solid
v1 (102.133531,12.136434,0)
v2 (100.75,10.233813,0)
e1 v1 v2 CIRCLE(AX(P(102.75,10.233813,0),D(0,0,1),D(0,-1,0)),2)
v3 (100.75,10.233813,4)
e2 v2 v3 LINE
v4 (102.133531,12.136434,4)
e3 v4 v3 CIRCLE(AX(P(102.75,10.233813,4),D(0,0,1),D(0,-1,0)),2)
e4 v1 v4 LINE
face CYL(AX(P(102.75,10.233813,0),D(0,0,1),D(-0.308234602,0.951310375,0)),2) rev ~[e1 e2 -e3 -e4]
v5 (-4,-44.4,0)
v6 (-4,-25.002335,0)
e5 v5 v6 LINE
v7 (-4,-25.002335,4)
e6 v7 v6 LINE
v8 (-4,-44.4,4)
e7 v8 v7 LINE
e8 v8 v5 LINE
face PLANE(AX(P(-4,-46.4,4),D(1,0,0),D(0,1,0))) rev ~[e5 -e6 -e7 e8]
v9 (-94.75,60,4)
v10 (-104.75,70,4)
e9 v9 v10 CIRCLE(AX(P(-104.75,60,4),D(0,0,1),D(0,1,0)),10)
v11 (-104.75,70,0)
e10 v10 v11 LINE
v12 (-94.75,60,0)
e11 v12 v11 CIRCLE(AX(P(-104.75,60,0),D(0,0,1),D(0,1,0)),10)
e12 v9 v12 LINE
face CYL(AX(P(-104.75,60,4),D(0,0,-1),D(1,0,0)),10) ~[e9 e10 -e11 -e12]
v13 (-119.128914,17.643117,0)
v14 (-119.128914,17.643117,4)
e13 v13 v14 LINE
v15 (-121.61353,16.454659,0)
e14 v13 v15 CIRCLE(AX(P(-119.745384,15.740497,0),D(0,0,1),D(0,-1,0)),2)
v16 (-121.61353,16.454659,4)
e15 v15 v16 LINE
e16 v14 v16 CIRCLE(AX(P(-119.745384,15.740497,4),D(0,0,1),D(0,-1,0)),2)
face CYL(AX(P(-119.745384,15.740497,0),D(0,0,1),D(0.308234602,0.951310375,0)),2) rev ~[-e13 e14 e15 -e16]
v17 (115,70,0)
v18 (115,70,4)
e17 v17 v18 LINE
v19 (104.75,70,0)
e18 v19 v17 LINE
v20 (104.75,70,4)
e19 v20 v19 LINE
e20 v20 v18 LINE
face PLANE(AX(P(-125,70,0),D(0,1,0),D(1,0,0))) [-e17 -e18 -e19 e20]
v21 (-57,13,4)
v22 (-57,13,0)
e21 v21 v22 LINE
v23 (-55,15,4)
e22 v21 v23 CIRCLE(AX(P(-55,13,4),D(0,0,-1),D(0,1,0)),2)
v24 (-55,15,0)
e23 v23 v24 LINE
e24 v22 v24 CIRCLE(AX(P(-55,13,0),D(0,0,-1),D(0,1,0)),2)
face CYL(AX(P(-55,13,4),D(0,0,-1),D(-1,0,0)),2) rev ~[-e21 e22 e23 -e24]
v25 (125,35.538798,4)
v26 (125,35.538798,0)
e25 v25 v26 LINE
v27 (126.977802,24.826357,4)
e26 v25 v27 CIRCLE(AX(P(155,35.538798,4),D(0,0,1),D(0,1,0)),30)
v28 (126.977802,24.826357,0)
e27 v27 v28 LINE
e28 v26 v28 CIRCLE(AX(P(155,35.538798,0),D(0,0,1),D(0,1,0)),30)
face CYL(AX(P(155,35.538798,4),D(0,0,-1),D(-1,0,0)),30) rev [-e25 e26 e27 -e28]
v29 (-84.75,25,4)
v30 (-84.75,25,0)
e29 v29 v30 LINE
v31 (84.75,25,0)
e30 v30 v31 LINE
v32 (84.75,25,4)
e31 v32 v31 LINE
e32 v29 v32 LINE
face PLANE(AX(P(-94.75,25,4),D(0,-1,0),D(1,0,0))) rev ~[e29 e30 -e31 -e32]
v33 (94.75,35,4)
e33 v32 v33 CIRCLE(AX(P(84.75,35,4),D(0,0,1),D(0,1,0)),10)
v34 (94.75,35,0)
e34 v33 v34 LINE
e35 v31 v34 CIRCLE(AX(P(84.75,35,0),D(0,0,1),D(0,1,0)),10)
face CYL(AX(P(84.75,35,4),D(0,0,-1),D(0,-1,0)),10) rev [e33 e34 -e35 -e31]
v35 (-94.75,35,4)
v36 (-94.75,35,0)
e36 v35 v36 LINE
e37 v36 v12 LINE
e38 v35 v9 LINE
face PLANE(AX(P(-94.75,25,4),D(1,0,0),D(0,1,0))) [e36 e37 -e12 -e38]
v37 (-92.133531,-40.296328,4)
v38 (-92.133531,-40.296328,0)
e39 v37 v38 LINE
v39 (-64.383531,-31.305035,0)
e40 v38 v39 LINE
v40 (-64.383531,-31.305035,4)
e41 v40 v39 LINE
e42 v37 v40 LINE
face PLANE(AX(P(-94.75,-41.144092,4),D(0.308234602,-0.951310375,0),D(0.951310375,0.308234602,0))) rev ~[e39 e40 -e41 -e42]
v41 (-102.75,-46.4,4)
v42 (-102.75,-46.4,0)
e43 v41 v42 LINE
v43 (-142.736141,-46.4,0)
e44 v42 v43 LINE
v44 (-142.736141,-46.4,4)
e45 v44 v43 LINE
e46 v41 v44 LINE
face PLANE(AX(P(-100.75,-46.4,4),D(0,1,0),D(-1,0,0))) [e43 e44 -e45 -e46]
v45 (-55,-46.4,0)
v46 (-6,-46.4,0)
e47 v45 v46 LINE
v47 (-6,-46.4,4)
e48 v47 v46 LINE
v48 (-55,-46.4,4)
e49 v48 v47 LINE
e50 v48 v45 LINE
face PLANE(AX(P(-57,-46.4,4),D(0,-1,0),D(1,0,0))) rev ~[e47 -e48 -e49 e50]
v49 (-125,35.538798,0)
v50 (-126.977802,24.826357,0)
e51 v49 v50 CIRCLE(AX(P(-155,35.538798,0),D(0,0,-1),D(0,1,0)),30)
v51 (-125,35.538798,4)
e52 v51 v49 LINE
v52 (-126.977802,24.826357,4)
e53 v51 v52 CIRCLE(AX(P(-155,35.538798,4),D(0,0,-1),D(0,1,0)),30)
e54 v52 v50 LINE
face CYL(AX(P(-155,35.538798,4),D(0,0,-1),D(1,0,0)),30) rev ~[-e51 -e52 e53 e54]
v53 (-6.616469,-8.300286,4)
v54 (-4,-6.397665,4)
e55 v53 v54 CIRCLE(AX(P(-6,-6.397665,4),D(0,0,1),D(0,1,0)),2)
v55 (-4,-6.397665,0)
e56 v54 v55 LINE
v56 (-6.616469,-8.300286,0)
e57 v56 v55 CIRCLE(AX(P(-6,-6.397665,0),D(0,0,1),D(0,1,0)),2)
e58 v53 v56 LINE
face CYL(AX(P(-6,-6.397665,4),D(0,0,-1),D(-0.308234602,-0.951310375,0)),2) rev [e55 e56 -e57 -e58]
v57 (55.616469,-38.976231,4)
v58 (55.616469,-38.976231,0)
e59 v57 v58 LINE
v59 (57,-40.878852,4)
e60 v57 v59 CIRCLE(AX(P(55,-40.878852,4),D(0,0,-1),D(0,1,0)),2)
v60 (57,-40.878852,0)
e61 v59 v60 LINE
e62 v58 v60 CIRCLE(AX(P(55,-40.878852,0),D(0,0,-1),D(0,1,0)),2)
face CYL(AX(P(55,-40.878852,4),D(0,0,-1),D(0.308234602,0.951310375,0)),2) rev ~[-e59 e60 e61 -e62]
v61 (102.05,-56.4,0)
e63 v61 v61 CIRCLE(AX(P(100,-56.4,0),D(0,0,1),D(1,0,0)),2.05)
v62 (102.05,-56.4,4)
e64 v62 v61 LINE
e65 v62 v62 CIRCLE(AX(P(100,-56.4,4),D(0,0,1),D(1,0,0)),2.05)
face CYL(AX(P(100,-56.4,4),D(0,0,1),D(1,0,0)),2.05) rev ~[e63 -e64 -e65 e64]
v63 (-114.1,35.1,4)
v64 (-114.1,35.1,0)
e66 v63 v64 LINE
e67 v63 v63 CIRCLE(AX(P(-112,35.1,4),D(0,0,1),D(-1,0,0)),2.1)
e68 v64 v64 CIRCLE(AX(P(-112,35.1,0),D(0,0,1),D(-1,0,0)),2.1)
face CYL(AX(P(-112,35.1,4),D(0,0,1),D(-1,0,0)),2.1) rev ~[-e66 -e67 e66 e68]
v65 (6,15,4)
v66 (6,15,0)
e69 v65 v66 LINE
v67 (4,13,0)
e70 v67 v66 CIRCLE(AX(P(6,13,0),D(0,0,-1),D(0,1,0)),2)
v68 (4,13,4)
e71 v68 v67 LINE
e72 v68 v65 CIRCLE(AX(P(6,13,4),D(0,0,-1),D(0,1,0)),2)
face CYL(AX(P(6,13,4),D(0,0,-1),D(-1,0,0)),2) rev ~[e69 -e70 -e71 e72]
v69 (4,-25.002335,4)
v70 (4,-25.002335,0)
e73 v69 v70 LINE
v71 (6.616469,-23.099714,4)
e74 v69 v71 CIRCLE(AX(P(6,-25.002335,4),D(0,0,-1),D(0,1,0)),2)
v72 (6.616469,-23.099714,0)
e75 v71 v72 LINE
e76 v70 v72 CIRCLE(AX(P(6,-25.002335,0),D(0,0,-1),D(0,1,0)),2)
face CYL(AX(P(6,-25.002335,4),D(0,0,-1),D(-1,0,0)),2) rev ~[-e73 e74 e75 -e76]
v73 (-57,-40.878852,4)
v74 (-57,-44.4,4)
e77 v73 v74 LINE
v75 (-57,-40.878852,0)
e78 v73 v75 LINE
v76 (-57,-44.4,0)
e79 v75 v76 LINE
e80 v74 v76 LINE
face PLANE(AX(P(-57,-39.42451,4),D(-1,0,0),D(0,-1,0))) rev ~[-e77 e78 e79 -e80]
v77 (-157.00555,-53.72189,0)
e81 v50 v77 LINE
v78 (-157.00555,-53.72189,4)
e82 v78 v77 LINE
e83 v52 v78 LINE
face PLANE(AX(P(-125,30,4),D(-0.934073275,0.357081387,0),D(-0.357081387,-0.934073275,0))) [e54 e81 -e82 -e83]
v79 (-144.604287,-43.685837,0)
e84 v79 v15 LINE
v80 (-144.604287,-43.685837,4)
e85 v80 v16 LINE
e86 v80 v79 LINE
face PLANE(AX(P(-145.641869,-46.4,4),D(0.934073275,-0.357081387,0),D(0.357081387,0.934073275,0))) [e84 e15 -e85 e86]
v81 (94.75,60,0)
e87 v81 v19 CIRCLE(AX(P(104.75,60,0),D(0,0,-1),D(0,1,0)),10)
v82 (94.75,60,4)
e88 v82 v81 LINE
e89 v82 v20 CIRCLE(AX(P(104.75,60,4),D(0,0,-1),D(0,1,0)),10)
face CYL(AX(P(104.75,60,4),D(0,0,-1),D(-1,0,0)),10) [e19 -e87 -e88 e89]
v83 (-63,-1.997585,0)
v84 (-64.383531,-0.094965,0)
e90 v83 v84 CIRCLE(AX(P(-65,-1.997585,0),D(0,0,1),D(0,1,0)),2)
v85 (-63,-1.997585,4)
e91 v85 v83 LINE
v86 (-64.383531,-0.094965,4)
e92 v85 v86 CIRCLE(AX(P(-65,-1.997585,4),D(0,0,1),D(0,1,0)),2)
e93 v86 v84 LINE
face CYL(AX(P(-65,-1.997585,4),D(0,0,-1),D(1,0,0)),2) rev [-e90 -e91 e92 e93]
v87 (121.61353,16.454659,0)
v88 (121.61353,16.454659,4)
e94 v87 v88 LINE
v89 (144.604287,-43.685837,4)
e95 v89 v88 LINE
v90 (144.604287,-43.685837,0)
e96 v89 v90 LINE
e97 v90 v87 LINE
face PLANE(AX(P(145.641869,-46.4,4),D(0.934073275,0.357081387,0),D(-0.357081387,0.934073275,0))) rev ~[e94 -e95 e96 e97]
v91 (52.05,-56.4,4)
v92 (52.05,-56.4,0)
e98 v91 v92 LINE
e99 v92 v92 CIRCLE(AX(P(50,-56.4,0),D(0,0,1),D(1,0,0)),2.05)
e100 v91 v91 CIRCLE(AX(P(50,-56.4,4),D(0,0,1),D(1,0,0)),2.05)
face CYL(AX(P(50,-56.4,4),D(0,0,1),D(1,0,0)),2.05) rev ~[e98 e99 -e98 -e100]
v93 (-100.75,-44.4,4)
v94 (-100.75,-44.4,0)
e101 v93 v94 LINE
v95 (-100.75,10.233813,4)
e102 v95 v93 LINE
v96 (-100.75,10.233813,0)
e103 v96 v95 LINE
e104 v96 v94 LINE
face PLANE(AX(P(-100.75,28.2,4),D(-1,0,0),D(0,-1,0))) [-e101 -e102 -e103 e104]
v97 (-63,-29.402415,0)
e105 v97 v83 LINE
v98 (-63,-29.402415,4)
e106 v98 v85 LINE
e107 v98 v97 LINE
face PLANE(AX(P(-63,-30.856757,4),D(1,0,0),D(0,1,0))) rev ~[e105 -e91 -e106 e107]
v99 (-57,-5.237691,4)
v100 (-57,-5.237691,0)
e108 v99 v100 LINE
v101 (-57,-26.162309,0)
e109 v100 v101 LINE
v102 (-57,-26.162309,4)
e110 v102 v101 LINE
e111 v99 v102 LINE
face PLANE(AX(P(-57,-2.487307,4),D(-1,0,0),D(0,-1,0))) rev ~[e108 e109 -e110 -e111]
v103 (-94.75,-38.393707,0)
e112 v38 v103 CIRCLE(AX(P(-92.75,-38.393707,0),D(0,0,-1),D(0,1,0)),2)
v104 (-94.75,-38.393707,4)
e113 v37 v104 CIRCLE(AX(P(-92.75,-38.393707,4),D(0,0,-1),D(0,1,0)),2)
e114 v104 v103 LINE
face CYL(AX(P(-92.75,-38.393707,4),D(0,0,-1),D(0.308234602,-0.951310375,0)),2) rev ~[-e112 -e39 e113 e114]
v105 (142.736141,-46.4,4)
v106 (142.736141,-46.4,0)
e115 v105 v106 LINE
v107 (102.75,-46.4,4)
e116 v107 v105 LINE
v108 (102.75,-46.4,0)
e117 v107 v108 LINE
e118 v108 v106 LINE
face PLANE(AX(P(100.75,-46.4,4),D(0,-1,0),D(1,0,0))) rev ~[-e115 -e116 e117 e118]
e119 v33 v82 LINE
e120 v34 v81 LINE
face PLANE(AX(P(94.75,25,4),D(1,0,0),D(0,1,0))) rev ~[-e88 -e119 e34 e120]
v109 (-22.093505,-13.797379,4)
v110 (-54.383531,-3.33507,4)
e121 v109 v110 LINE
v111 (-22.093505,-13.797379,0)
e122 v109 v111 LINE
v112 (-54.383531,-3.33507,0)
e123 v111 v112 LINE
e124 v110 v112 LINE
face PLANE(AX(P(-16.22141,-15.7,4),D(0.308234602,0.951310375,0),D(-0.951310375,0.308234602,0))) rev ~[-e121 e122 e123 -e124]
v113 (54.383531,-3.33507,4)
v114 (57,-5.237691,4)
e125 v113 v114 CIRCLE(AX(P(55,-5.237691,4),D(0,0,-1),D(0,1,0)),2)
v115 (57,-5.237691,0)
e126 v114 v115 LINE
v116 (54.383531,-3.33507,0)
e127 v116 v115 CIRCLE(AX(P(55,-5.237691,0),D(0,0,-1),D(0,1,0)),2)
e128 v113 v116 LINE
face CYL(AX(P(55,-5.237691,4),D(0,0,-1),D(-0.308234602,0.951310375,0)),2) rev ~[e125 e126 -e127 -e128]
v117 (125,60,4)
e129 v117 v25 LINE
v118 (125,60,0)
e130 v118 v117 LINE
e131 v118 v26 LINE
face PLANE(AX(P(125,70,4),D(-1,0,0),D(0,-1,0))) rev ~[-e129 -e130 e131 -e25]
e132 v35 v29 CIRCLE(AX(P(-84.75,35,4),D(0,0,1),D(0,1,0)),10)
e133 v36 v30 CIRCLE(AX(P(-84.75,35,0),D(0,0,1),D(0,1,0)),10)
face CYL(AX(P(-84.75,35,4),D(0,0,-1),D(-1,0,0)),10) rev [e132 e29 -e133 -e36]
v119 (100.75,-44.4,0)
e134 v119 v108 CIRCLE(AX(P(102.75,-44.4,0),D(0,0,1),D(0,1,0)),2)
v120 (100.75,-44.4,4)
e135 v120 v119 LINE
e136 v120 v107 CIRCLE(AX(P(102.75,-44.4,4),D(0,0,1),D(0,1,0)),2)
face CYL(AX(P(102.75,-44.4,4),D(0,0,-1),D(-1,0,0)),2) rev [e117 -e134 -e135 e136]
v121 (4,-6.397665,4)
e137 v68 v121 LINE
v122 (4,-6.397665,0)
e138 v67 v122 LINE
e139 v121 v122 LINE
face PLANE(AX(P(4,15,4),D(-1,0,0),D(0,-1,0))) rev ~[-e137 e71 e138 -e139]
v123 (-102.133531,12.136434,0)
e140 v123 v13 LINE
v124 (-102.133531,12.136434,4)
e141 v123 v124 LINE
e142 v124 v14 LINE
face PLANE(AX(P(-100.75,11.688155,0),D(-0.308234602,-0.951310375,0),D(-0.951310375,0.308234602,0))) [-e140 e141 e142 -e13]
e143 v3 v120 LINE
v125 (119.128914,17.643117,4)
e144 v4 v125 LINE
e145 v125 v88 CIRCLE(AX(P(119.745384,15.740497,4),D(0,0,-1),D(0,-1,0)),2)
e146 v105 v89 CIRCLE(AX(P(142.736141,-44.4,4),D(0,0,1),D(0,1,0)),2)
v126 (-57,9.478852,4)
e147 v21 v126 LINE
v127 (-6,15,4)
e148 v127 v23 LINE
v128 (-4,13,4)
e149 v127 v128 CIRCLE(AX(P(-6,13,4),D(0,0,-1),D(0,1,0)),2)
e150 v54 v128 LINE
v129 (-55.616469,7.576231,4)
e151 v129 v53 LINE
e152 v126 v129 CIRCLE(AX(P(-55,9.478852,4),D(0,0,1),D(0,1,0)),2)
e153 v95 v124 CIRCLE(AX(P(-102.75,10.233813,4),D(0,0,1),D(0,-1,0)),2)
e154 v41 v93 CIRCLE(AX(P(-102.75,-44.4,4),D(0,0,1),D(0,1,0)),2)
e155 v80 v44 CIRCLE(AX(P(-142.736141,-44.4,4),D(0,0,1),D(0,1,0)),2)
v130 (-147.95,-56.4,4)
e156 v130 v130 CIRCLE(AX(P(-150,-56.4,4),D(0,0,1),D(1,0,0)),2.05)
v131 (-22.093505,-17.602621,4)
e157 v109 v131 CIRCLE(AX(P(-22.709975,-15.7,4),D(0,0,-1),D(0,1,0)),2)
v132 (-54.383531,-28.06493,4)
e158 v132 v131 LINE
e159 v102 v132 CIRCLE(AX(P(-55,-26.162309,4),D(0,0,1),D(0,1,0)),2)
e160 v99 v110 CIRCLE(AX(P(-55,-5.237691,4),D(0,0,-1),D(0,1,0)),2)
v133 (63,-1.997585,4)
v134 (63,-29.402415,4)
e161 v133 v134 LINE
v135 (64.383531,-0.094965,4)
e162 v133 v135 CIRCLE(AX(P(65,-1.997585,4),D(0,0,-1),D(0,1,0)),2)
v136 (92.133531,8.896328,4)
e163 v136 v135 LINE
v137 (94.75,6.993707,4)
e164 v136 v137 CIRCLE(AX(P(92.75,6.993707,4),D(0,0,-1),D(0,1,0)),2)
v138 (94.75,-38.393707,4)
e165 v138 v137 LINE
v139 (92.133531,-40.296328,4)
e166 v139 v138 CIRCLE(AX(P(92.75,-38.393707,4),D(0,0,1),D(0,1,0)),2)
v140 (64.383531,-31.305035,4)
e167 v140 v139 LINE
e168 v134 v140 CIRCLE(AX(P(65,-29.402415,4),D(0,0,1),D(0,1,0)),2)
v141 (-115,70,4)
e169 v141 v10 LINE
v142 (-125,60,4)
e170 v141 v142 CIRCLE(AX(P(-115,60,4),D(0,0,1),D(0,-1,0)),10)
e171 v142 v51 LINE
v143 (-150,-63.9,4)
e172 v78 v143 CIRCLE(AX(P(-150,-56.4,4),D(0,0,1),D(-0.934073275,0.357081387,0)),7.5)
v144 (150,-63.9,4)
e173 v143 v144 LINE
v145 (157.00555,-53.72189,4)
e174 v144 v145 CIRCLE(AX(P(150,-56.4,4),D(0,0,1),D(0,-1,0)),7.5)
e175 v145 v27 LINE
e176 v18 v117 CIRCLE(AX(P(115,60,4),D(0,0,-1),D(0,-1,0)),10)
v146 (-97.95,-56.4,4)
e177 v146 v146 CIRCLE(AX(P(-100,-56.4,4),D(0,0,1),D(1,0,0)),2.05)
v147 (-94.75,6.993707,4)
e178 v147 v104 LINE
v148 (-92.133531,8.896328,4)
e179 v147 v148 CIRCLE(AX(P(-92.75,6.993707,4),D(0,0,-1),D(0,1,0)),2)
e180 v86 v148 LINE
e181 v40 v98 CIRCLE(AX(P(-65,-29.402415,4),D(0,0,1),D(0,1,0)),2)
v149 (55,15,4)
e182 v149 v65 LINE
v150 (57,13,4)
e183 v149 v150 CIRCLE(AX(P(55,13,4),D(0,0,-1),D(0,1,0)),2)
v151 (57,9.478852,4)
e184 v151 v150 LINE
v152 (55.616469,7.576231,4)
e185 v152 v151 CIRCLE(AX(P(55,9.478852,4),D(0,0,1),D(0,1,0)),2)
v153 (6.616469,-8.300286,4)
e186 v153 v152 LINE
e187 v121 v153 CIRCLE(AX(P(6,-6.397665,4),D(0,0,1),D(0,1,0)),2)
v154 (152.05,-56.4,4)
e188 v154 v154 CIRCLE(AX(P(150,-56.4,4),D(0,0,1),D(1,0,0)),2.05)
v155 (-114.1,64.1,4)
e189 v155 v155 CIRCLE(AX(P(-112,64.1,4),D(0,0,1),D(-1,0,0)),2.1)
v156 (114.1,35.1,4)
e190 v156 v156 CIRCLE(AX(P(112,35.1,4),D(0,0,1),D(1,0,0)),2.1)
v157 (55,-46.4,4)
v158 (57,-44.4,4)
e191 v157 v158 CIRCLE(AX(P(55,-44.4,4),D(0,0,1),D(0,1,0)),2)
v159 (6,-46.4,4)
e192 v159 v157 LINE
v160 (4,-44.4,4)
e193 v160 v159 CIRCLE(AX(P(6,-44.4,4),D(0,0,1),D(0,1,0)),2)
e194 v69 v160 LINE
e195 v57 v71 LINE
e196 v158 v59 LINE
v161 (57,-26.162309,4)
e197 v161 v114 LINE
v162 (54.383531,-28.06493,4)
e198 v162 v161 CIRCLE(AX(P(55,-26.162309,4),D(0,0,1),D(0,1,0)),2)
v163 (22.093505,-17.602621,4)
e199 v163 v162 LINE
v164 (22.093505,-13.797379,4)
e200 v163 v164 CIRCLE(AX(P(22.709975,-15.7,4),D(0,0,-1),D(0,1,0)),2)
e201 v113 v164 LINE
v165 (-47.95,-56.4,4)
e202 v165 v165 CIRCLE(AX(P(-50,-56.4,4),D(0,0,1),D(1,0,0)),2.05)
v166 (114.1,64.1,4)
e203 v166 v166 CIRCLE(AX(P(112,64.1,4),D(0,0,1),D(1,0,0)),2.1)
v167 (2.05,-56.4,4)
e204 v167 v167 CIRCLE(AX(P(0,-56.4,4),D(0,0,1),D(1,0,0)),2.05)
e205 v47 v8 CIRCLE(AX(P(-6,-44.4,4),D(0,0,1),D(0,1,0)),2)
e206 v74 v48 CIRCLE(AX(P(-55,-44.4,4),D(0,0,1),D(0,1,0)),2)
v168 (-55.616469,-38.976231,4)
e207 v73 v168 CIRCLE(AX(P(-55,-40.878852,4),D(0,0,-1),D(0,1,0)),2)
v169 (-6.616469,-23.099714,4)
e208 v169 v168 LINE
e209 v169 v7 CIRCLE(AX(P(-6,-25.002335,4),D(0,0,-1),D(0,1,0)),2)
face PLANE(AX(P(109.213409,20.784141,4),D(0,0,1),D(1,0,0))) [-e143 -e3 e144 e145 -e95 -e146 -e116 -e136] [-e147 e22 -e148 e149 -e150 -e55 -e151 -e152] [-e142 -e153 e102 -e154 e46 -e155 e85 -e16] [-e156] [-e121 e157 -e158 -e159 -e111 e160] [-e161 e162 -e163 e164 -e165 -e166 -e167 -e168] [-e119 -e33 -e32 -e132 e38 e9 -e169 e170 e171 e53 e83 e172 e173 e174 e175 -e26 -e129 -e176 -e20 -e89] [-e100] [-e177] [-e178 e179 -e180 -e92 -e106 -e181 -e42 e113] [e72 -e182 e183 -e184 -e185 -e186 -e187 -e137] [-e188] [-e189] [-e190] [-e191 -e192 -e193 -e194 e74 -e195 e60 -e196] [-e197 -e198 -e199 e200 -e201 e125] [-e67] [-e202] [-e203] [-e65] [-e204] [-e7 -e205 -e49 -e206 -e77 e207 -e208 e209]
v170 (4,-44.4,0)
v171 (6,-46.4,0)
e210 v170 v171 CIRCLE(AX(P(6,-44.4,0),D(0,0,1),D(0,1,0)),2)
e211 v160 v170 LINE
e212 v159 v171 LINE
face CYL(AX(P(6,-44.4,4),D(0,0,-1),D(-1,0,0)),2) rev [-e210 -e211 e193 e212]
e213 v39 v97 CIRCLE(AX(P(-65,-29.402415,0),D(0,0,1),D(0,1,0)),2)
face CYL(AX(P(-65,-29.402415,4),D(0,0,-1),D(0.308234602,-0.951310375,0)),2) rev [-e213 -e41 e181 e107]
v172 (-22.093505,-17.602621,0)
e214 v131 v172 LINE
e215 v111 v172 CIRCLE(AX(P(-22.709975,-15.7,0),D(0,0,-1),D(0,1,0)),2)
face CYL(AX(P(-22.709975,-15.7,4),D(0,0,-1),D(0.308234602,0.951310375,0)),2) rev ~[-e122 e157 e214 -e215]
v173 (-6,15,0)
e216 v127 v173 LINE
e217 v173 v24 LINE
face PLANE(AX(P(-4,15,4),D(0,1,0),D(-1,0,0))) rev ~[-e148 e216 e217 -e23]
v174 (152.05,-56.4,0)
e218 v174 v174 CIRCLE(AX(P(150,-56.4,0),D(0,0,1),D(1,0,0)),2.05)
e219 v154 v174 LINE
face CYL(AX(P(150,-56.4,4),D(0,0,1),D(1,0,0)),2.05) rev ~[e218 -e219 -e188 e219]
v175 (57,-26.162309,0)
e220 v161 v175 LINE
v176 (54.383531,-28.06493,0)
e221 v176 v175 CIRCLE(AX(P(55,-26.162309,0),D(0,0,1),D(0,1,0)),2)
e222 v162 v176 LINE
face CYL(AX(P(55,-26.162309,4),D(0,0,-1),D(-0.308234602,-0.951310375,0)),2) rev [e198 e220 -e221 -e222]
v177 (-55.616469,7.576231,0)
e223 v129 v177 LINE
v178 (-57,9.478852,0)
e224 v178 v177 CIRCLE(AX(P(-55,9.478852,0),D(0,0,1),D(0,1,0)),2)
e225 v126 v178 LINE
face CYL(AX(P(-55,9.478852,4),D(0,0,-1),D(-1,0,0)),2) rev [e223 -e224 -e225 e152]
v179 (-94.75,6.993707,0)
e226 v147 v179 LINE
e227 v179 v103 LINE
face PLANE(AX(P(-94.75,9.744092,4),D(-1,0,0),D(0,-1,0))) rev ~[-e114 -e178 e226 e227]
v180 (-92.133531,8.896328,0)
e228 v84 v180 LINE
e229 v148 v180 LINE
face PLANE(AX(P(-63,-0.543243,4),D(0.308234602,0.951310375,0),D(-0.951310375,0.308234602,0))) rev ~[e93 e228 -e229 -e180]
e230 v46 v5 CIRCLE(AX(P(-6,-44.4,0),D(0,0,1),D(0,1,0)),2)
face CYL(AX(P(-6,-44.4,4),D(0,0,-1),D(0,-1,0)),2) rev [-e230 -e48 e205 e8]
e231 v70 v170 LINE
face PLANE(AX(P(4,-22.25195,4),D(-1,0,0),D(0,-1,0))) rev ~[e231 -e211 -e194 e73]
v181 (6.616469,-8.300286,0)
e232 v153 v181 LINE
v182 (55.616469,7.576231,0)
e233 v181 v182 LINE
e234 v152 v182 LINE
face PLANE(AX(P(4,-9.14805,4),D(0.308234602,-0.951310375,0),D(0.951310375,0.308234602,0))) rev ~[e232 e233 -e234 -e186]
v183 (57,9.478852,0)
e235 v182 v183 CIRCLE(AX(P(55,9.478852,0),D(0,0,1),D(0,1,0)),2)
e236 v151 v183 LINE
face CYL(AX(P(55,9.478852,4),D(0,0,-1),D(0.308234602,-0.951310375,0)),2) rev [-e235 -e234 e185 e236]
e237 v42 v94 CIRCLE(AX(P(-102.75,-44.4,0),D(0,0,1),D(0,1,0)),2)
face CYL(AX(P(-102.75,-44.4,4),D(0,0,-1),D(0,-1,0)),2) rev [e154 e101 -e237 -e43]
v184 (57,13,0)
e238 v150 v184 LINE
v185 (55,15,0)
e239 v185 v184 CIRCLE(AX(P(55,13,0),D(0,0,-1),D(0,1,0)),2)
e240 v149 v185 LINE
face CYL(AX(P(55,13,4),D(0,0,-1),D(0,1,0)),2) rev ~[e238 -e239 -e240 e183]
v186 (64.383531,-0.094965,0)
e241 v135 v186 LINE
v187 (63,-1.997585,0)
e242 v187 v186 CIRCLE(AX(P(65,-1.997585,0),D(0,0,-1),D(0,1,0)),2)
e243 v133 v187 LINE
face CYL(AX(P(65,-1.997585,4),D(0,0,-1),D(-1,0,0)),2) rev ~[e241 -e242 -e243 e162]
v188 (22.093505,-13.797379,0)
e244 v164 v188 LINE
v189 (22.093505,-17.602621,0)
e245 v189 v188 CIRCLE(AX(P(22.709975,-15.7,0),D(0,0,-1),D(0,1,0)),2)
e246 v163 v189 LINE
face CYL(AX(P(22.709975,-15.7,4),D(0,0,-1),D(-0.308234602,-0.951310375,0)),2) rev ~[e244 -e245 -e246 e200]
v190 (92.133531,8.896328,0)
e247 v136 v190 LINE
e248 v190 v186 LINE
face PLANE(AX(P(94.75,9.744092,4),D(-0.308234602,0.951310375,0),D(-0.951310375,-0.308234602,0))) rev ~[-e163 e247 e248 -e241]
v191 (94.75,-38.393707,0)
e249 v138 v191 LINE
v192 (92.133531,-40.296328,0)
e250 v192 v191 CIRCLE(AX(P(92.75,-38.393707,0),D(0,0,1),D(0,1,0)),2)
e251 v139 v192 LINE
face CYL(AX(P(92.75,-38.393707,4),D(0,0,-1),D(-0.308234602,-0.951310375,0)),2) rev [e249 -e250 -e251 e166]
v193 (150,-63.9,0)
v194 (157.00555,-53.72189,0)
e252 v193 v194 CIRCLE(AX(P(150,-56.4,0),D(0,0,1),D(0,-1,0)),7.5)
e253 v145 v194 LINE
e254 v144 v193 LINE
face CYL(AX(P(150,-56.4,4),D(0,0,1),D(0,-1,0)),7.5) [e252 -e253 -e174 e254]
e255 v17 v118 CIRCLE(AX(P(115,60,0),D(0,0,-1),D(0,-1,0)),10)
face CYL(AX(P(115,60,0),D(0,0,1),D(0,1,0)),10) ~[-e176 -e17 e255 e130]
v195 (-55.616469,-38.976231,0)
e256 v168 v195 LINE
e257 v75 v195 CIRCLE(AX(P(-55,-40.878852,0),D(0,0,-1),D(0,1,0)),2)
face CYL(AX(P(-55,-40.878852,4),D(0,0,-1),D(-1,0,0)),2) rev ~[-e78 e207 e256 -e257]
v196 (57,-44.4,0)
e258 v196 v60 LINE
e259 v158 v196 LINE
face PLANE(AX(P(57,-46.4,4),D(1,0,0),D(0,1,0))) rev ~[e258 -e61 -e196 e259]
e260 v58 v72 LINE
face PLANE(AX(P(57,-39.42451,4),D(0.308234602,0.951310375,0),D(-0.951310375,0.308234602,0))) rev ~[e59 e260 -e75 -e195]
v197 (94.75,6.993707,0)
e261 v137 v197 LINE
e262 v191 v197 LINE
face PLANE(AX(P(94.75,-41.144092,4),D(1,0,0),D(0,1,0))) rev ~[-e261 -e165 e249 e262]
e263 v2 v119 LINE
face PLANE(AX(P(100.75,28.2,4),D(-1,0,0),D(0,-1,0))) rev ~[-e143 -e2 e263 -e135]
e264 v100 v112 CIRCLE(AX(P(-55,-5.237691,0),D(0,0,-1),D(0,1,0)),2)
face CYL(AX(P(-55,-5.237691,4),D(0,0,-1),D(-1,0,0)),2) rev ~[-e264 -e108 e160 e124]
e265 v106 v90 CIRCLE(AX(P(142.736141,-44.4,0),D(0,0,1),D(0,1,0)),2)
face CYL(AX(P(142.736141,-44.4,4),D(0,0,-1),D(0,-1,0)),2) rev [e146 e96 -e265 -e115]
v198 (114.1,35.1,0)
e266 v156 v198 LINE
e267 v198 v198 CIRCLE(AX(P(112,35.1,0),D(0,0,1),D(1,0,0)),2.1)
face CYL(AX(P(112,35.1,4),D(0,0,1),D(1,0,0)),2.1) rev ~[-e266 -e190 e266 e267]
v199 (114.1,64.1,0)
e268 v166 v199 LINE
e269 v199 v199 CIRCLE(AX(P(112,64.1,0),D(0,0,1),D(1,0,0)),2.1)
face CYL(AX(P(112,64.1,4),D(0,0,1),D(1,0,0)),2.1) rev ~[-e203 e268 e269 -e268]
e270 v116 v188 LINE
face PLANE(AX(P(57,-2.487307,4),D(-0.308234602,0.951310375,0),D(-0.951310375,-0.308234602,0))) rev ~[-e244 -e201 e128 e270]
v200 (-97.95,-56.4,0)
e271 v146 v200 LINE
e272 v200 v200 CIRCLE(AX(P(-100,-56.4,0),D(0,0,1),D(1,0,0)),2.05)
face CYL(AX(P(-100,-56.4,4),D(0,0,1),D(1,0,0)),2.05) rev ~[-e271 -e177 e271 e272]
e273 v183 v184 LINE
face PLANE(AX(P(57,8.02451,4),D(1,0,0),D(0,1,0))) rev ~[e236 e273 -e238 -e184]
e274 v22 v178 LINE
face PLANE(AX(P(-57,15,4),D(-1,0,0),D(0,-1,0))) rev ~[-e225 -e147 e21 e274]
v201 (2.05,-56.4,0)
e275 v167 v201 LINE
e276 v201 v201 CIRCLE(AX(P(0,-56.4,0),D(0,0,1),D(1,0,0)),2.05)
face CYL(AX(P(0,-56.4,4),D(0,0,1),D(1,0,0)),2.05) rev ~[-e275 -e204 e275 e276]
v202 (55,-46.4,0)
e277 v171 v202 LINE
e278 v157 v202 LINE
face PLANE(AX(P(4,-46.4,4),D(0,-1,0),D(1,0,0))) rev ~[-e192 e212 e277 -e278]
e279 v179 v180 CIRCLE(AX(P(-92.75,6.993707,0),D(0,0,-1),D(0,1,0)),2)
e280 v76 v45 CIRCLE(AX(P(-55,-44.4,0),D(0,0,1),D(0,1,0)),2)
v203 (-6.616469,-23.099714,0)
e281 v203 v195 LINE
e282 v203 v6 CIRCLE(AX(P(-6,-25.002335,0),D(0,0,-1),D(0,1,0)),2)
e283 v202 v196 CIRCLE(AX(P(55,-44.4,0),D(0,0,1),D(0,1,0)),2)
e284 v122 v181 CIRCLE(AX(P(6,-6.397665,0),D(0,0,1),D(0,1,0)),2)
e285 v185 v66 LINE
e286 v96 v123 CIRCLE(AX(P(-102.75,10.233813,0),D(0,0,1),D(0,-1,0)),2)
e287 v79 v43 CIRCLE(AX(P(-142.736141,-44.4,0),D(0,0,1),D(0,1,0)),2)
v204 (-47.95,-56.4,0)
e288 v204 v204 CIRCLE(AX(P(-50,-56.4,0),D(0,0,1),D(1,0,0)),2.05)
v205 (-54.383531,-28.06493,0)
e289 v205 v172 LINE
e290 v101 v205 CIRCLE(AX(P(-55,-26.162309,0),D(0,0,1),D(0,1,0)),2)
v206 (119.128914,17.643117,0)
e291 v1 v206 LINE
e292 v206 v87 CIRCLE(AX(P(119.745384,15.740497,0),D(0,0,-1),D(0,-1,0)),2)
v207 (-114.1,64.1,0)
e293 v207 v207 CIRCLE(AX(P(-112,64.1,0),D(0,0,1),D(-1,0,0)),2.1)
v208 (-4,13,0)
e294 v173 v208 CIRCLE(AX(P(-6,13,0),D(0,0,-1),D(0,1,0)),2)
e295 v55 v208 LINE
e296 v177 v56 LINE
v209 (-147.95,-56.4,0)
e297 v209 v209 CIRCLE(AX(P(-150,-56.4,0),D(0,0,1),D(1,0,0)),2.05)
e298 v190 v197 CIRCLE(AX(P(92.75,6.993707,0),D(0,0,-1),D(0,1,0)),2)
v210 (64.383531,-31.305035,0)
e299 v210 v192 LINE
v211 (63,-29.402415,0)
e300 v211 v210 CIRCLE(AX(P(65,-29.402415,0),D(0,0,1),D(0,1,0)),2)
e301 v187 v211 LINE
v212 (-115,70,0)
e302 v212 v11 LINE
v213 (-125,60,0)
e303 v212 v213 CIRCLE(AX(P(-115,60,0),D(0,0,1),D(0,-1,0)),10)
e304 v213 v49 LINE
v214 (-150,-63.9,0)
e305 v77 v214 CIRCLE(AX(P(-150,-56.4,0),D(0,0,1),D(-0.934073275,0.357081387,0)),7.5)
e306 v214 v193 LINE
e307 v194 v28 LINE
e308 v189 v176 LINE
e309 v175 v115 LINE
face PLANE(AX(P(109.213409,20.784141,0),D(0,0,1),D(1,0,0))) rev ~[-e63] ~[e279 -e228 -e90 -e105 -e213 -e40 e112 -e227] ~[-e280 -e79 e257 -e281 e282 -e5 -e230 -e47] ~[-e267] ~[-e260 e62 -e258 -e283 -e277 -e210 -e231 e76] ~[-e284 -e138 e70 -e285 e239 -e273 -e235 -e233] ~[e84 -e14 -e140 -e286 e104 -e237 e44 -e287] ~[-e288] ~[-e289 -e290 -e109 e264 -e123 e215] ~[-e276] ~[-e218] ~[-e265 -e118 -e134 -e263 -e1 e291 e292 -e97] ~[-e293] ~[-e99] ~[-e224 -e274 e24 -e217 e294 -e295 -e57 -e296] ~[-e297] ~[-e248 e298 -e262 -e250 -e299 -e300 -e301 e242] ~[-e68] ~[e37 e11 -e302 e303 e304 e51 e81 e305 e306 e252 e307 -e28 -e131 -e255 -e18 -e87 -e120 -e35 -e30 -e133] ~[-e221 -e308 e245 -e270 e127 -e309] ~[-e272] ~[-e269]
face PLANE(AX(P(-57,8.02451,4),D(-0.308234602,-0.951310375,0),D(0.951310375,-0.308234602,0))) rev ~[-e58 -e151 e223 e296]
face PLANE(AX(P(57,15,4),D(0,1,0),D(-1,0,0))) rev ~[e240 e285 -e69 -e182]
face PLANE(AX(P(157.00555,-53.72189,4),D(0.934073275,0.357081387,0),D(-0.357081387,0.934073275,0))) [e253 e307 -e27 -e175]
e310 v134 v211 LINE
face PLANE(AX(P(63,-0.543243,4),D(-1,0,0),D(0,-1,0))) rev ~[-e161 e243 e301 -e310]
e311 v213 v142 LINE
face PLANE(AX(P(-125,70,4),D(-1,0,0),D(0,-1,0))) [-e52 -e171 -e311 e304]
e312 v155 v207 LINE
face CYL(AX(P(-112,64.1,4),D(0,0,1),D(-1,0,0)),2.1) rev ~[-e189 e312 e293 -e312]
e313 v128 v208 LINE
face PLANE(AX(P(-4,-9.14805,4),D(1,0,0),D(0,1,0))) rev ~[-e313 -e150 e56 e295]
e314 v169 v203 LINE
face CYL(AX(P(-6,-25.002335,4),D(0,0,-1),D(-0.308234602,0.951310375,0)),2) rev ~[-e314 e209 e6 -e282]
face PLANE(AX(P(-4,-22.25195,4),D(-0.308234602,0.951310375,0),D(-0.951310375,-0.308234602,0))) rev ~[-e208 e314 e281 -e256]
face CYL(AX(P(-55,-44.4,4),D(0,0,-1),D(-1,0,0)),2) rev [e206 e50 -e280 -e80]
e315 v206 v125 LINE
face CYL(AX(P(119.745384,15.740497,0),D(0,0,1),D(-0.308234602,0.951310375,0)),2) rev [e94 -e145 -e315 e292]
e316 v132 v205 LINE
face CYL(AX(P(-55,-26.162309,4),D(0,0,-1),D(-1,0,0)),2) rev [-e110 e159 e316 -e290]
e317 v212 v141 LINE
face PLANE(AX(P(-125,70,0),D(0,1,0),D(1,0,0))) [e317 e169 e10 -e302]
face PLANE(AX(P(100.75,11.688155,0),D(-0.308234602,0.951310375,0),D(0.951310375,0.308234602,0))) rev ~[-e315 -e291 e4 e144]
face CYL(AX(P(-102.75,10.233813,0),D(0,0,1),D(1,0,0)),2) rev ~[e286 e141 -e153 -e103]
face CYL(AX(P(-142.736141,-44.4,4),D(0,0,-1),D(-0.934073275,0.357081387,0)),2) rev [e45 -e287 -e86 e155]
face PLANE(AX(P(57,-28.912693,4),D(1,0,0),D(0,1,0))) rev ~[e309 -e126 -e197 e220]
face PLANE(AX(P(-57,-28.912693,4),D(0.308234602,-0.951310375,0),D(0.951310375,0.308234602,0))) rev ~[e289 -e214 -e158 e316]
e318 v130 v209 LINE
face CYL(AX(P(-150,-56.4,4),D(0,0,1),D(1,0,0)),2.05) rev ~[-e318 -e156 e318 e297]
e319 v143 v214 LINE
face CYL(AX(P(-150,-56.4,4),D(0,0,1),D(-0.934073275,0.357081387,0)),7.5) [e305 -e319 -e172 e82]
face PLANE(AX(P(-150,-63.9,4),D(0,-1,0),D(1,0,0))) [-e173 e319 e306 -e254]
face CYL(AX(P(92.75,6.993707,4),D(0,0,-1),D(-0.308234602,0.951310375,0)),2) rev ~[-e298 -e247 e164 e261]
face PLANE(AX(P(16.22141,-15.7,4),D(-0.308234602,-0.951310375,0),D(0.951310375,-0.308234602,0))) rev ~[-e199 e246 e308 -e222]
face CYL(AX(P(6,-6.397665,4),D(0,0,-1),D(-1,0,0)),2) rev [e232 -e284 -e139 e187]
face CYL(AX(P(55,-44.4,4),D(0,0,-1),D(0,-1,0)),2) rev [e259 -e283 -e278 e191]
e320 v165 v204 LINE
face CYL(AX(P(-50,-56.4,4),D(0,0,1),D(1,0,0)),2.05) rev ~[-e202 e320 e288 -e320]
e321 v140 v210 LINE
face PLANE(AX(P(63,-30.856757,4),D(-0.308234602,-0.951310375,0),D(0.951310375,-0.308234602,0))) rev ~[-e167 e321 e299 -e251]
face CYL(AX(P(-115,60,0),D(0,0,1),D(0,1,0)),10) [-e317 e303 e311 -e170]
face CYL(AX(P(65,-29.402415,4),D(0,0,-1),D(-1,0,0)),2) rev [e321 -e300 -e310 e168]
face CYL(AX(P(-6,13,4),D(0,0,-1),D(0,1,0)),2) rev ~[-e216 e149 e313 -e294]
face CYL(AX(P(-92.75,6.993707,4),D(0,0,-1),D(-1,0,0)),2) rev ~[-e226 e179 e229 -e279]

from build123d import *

# Parameters (mm, degrees)
SKETCH_1_W           = 250
SKETCH_1_H           = 140
EXTRUDE_1_DEPTH      = 4
SKETCH_2_R           = 1.55
CUT_EXTRUDE_1_DEPTH  = 4
SKETCH_4_W           = 350
SKETCH_4_H           = 30
EXTRUDE_2_DEPTH      = 4
EXTRUDE_3_DEPTH      = 4
SKETCH_3_R           = 2.05
CUT_EXTRUDE_2_DEPTH  = 4
SKETCH_6_W           = 189.5
SKETCH_6_H           = 45
CUT_EXTRUDE_3_DEPTH  = 4
CUT_EXTRUDE_4_DEPTH  = 4
CUT_EXTRUDE_5_DEPTH  = 4
FILLET_1_R           = 10
CUT_EXTRUDE_6_DEPTH  = 4
CUT_EXTRUDE_7_DEPTH  = 4
FILLET_2_R           = 2
FILLET_3_R           = 10
FILLET_4_R           = 30
SKETCH_11_R          = 1.55
EXTRUDE_4_DEPTH      = 4
EXTRUDE_START        = -4
EXTRUDE_5_DEPTH      = 4
SKETCH_13_R          = 2.1
CUT_EXTRUDE_12_DEPTH = 4
FILLET_5_R           = 2


with BuildPart() as part:
    # 草图1 → 凸台-拉伸1 (new body)
    with BuildSketch(Plane.XY):
        Rectangle(SKETCH_1_W, SKETCH_1_H)
    extrude(amount=EXTRUDE_1_DEPTH)

    # 草图2 → 切除-拉伸1 (cut)
    with BuildSketch(Plane.XY.offset(4)):
        with Locations((-108.75, 65)):
            Circle(SKETCH_2_R)
        with Locations((-108.75, 38.2)):
            Circle(SKETCH_2_R)
        with Locations((108.75, 65)):
            Circle(SKETCH_2_R)
        with Locations((108.75, 38.2)):
            Circle(SKETCH_2_R)
    extrude(amount=-CUT_EXTRUDE_1_DEPTH, mode=Mode.SUBTRACT)

    # 草图4 → 凸台-拉伸2 (add)
    with BuildSketch(Plane.XY.offset(4)):
        with Locations((0, -55)):
            Rectangle(SKETCH_4_W, SKETCH_4_H)
    extrude(amount=-EXTRUDE_2_DEPTH)

    # 草图5 → 凸台-拉伸3 (add)
    with BuildSketch(Plane.XY.offset(4)):
        Polygon((-125, -40), (-125, 70), (-175, -40), align=None)
        Polygon((175, -40), (125, 70), (125, -40), align=None)
    extrude(amount=-EXTRUDE_3_DEPTH)

    # 草图3 → 切除-拉伸2 (cut)
    with BuildSketch(Plane.XY.offset(4)):
        with Locations((50, -56.4)):
            Circle(SKETCH_3_R)
        with Locations((0, -56.4)):
            Circle(SKETCH_3_R)
        with Locations((100, -56.4)):
            Circle(SKETCH_3_R)
        with Locations((150, -56.4)):
            Circle(SKETCH_3_R)
        with Locations((-50, -56.4)):
            Circle(SKETCH_3_R)
        with Locations((-100, -56.4)):
            Circle(SKETCH_3_R)
        with Locations((-150, -56.4)):
            Circle(SKETCH_3_R)
    extrude(amount=-CUT_EXTRUDE_2_DEPTH, mode=Mode.SUBTRACT)

    # 草图6 → 切除-拉伸3 (cut)
    with BuildSketch(Plane.XY.offset(4)):
        with Locations((0, 47.5)):
            Rectangle(SKETCH_6_W, SKETCH_6_H)
    extrude(amount=-CUT_EXTRUDE_3_DEPTH, mode=Mode.SUBTRACT)

    # 草图7 → 切除-拉伸4 (cut)
    with BuildSketch(Plane.XY.offset(4)):
        Polygon((-125, 70), (-125, 30), (-175, -40), align=None)
        Polygon((175, -40), (125, 70), (125, 30), align=None)
    extrude(amount=-CUT_EXTRUDE_4_DEPTH, mode=Mode.SUBTRACT)

    # 草图8 → 切除-拉伸5 (cut)
    with BuildSketch(Plane.XY.offset(4)):
        with BuildLine():
            Line((-150, -63.9), (150, -63.9))
            ThreePointArc((150, -63.9), (156.178018616, -60.652303609), (157.005549561, -53.721889595))
            Line((157.005549561, -53.721889595), (125, 30))
            Line((125, 30), (228.155592589, 30))
            Line((228.155592589, 30), (175, -70))
            Line((175, -70), (-175, -70))
            Line((-175, -70), (-228.155592589, 30))
            Line((-228.155592589, 30), (-125, 30))
            Line((-125, 30), (-157.005549561, -53.721889595))
            ThreePointArc((-157.005549561, -53.721889595), (-156.178018616, -60.652303609), (-150, -63.9))
        make_face()
    extrude(amount=-CUT_EXTRUDE_5_DEPTH, mode=Mode.SUBTRACT)

    # 圆角1
    fillet_1_edges = [part.edges().sort_by_distance(p)[0] for p in [
        (94.75, 25, 2),
        (-94.75, 25, 2),
    ]]
    fillet(fillet_1_edges, radius=FILLET_1_R)

    # 草图9 → 切除-拉伸6 (cut)
    with BuildSketch(Plane.XY.offset(4)):
        Polygon((-57, -39.42450978), (-57, -46.4), (-4, -46.4), (-4, -22.251950414), align=None)
        Polygon((-57, -2.487306614), (-57, -28.912693386), (-16.221410479, -15.7), align=None)
        Polygon((-57, 15), (-57, 8.02450978), (-4, -9.148049586), (-4, 15), align=None)
        Polygon((4, 15), (4, -9.148049586), (57, 8.02450978), (57, 15), align=None)
        Polygon((16.221410479, -15.7), (57, -28.912693386), (57, -2.487306614), align=None)
        Polygon((4, -22.251950414), (4, -46.4), (57, -46.4), (57, -39.42450978), align=None)
        Polygon((63, -0.54324329), (63, -30.85675671), (94.75, -41.144091803), (94.75, 9.744091803), align=None)
        Polygon((-94.75, -41.144091803), (-63, -30.85675671), (-63, -0.54324329), (-94.75, 9.744091803), align=None)
    extrude(amount=-CUT_EXTRUDE_6_DEPTH, mode=Mode.SUBTRACT)

    # 草图10 → 切除-拉伸7 (cut)
    with BuildSketch(Plane.XY.offset(4)):
        Polygon((-100.75, 28.2), (-100.75, -46.4), (-145.641868809, -46.4), (-117.123472857, 28.2), align=None)
        Polygon((117.123472857, 28.2), (100.75, 28.2), (100.75, -46.4), (145.641868809, -46.4), align=None)
    extrude(amount=-CUT_EXTRUDE_7_DEPTH, mode=Mode.SUBTRACT)

    # 圆角2
    fillet_2_edges = [part.edges().sort_by_distance(p)[0] for p in [
        (-57, 15, 2),
        (-4, 15, 2),
        (-4, -9.148049586, 2),
        (-57, 8.02450978, 2),
        (-57, -2.487306614, 2),
        (-16.221410479, -15.7, 2),
        (-57, -28.912693386, 2),
        (57, -2.487306614, 2),
        (57, -28.912693386, 2),
        (16.221410479, -15.7, 2),
        (57, 15, 2),
        (57, 8.02450978, 2),
        (4, -9.148049586, 2),
        (4, 15, 2),
        (57, -39.42450978, 2),
        (57, -46.4, 2),
        (4, -46.4, 2),
        (4, -22.251950414, 2),
        (63, -0.54324329, 2),
        (94.75, 9.744091803, 2),
        (94.75, -41.144091803, 2),
        (63, -30.85675671, 2),
        (-63, -0.54324329, 2),
        (-63, -30.85675671, 2),
        (-94.75, -41.144091803, 2),
        (-94.75, 9.744091803, 2),
        (-57, -39.42450978, 2),
        (-4, -22.251950414, 2),
        (-4, -46.4, 2),
        (-57, -46.4, 2),
        (-100.75, -46.4, 2),
        (-145.641868809, -46.4, 2),
        (-117.123472857, 28.2, 2),
        (-100.75, 28.2, 2),
        (117.123472857, 28.2, 2),
        (145.641868809, -46.4, 2),
        (100.75, -46.4, 2),
        (100.75, 28.2, 2),
    ]]
    fillet(fillet_2_edges, radius=FILLET_2_R)

    # 圆角3
    fillet_3_edges = [part.edges().sort_by_distance(p)[0] for p in [
        (-94.75, 70, 2),
        (94.75, 70, 2),
        (-125, 70, 2),
        (125, 70, 2),
    ]]
    fillet(fillet_3_edges, radius=FILLET_3_R)

    # 圆角4
    fillet_4_edges = [part.edges().sort_by_distance(p)[0] for p in [
        (-125, 30, 2),
        (125, 30, 2),
    ]]
    fillet(fillet_4_edges, radius=FILLET_4_R)

    # 草图11 → 凸台-拉伸4 (add)
    with BuildSketch(Plane.XY.offset(4)):
        with Locations((108.75, 38.2)):
            Circle(SKETCH_11_R)
        with Locations((108.75, 65)):
            Circle(SKETCH_11_R)
        with Locations((-108.75, 38.2)):
            Circle(SKETCH_11_R)
        with Locations((-108.75, 65)):
            Circle(SKETCH_11_R)
    extrude(amount=-EXTRUDE_4_DEPTH)

    # 草图14 → 凸台-拉伸5 (add)
    with BuildSketch(Plane.XY.offset(4).offset(EXTRUDE_START)):
        with BuildLine():
            Line((100.75, 11.688155127), (120.935438111, 18.228450114))
            Line((120.935438111, 18.228450114), (117.61502802, 26.914162775))
            ThreePointArc((117.61502802, 26.914162775), (116.880829099, 27.847471631), (115.74688147, 28.2))
            Line((115.74688147, 28.2), (102.75, 28.2))
            ThreePointArc((102.75, 28.2), (101.335786438, 27.614213562), (100.75, 26.2))
            Line((100.75, 26.2), (100.75, 11.688155127))
        make_face()
        with BuildLine():
            Line((-100.75, 26.2), (-100.75, 11.688155127))
            Line((-100.75, 11.688155127), (-120.935438111, 18.228450114))
            Line((-120.935438111, 18.228450114), (-117.61502802, 26.914162775))
            ThreePointArc((-117.61502802, 26.914162775), (-116.880829099, 27.847471631), (-115.74688147, 28.2))
            Line((-115.74688147, 28.2), (-102.75, 28.2))
            ThreePointArc((-102.75, 28.2), (-101.335786438, 27.614213562), (-100.75, 26.2))
        make_face()
    extrude(amount=EXTRUDE_5_DEPTH)

    # 草图13 → 切除-拉伸12 (cut)
    with BuildSketch(Plane.XY.offset(4)):
        with Locations((112, 35.1)):
            Circle(SKETCH_13_R)
        with Locations((112, 64.1)):
            Circle(SKETCH_13_R)
        with Locations(Location((-112, 64.1, 0), (0, 0, 180))):
            Circle(SKETCH_13_R)
        with Locations(Location((-112, 35.1, 0), (0, 0, 180))):
            Circle(SKETCH_13_R)
    extrude(amount=-CUT_EXTRUDE_12_DEPTH, mode=Mode.SUBTRACT)

    # 圆角5
    fillet_5_edges = [part.edges().sort_by_distance(p)[0] for p in [
        (120.935438111, 18.228450114, 2),
        (100.75, 11.688155127, 2),
        (-120.935438111, 18.228450114, 2),
        (-100.75, 11.688155127, 2),
    ]]
    fillet(fillet_5_edges, radius=FILLET_5_R)


solid = part.part
